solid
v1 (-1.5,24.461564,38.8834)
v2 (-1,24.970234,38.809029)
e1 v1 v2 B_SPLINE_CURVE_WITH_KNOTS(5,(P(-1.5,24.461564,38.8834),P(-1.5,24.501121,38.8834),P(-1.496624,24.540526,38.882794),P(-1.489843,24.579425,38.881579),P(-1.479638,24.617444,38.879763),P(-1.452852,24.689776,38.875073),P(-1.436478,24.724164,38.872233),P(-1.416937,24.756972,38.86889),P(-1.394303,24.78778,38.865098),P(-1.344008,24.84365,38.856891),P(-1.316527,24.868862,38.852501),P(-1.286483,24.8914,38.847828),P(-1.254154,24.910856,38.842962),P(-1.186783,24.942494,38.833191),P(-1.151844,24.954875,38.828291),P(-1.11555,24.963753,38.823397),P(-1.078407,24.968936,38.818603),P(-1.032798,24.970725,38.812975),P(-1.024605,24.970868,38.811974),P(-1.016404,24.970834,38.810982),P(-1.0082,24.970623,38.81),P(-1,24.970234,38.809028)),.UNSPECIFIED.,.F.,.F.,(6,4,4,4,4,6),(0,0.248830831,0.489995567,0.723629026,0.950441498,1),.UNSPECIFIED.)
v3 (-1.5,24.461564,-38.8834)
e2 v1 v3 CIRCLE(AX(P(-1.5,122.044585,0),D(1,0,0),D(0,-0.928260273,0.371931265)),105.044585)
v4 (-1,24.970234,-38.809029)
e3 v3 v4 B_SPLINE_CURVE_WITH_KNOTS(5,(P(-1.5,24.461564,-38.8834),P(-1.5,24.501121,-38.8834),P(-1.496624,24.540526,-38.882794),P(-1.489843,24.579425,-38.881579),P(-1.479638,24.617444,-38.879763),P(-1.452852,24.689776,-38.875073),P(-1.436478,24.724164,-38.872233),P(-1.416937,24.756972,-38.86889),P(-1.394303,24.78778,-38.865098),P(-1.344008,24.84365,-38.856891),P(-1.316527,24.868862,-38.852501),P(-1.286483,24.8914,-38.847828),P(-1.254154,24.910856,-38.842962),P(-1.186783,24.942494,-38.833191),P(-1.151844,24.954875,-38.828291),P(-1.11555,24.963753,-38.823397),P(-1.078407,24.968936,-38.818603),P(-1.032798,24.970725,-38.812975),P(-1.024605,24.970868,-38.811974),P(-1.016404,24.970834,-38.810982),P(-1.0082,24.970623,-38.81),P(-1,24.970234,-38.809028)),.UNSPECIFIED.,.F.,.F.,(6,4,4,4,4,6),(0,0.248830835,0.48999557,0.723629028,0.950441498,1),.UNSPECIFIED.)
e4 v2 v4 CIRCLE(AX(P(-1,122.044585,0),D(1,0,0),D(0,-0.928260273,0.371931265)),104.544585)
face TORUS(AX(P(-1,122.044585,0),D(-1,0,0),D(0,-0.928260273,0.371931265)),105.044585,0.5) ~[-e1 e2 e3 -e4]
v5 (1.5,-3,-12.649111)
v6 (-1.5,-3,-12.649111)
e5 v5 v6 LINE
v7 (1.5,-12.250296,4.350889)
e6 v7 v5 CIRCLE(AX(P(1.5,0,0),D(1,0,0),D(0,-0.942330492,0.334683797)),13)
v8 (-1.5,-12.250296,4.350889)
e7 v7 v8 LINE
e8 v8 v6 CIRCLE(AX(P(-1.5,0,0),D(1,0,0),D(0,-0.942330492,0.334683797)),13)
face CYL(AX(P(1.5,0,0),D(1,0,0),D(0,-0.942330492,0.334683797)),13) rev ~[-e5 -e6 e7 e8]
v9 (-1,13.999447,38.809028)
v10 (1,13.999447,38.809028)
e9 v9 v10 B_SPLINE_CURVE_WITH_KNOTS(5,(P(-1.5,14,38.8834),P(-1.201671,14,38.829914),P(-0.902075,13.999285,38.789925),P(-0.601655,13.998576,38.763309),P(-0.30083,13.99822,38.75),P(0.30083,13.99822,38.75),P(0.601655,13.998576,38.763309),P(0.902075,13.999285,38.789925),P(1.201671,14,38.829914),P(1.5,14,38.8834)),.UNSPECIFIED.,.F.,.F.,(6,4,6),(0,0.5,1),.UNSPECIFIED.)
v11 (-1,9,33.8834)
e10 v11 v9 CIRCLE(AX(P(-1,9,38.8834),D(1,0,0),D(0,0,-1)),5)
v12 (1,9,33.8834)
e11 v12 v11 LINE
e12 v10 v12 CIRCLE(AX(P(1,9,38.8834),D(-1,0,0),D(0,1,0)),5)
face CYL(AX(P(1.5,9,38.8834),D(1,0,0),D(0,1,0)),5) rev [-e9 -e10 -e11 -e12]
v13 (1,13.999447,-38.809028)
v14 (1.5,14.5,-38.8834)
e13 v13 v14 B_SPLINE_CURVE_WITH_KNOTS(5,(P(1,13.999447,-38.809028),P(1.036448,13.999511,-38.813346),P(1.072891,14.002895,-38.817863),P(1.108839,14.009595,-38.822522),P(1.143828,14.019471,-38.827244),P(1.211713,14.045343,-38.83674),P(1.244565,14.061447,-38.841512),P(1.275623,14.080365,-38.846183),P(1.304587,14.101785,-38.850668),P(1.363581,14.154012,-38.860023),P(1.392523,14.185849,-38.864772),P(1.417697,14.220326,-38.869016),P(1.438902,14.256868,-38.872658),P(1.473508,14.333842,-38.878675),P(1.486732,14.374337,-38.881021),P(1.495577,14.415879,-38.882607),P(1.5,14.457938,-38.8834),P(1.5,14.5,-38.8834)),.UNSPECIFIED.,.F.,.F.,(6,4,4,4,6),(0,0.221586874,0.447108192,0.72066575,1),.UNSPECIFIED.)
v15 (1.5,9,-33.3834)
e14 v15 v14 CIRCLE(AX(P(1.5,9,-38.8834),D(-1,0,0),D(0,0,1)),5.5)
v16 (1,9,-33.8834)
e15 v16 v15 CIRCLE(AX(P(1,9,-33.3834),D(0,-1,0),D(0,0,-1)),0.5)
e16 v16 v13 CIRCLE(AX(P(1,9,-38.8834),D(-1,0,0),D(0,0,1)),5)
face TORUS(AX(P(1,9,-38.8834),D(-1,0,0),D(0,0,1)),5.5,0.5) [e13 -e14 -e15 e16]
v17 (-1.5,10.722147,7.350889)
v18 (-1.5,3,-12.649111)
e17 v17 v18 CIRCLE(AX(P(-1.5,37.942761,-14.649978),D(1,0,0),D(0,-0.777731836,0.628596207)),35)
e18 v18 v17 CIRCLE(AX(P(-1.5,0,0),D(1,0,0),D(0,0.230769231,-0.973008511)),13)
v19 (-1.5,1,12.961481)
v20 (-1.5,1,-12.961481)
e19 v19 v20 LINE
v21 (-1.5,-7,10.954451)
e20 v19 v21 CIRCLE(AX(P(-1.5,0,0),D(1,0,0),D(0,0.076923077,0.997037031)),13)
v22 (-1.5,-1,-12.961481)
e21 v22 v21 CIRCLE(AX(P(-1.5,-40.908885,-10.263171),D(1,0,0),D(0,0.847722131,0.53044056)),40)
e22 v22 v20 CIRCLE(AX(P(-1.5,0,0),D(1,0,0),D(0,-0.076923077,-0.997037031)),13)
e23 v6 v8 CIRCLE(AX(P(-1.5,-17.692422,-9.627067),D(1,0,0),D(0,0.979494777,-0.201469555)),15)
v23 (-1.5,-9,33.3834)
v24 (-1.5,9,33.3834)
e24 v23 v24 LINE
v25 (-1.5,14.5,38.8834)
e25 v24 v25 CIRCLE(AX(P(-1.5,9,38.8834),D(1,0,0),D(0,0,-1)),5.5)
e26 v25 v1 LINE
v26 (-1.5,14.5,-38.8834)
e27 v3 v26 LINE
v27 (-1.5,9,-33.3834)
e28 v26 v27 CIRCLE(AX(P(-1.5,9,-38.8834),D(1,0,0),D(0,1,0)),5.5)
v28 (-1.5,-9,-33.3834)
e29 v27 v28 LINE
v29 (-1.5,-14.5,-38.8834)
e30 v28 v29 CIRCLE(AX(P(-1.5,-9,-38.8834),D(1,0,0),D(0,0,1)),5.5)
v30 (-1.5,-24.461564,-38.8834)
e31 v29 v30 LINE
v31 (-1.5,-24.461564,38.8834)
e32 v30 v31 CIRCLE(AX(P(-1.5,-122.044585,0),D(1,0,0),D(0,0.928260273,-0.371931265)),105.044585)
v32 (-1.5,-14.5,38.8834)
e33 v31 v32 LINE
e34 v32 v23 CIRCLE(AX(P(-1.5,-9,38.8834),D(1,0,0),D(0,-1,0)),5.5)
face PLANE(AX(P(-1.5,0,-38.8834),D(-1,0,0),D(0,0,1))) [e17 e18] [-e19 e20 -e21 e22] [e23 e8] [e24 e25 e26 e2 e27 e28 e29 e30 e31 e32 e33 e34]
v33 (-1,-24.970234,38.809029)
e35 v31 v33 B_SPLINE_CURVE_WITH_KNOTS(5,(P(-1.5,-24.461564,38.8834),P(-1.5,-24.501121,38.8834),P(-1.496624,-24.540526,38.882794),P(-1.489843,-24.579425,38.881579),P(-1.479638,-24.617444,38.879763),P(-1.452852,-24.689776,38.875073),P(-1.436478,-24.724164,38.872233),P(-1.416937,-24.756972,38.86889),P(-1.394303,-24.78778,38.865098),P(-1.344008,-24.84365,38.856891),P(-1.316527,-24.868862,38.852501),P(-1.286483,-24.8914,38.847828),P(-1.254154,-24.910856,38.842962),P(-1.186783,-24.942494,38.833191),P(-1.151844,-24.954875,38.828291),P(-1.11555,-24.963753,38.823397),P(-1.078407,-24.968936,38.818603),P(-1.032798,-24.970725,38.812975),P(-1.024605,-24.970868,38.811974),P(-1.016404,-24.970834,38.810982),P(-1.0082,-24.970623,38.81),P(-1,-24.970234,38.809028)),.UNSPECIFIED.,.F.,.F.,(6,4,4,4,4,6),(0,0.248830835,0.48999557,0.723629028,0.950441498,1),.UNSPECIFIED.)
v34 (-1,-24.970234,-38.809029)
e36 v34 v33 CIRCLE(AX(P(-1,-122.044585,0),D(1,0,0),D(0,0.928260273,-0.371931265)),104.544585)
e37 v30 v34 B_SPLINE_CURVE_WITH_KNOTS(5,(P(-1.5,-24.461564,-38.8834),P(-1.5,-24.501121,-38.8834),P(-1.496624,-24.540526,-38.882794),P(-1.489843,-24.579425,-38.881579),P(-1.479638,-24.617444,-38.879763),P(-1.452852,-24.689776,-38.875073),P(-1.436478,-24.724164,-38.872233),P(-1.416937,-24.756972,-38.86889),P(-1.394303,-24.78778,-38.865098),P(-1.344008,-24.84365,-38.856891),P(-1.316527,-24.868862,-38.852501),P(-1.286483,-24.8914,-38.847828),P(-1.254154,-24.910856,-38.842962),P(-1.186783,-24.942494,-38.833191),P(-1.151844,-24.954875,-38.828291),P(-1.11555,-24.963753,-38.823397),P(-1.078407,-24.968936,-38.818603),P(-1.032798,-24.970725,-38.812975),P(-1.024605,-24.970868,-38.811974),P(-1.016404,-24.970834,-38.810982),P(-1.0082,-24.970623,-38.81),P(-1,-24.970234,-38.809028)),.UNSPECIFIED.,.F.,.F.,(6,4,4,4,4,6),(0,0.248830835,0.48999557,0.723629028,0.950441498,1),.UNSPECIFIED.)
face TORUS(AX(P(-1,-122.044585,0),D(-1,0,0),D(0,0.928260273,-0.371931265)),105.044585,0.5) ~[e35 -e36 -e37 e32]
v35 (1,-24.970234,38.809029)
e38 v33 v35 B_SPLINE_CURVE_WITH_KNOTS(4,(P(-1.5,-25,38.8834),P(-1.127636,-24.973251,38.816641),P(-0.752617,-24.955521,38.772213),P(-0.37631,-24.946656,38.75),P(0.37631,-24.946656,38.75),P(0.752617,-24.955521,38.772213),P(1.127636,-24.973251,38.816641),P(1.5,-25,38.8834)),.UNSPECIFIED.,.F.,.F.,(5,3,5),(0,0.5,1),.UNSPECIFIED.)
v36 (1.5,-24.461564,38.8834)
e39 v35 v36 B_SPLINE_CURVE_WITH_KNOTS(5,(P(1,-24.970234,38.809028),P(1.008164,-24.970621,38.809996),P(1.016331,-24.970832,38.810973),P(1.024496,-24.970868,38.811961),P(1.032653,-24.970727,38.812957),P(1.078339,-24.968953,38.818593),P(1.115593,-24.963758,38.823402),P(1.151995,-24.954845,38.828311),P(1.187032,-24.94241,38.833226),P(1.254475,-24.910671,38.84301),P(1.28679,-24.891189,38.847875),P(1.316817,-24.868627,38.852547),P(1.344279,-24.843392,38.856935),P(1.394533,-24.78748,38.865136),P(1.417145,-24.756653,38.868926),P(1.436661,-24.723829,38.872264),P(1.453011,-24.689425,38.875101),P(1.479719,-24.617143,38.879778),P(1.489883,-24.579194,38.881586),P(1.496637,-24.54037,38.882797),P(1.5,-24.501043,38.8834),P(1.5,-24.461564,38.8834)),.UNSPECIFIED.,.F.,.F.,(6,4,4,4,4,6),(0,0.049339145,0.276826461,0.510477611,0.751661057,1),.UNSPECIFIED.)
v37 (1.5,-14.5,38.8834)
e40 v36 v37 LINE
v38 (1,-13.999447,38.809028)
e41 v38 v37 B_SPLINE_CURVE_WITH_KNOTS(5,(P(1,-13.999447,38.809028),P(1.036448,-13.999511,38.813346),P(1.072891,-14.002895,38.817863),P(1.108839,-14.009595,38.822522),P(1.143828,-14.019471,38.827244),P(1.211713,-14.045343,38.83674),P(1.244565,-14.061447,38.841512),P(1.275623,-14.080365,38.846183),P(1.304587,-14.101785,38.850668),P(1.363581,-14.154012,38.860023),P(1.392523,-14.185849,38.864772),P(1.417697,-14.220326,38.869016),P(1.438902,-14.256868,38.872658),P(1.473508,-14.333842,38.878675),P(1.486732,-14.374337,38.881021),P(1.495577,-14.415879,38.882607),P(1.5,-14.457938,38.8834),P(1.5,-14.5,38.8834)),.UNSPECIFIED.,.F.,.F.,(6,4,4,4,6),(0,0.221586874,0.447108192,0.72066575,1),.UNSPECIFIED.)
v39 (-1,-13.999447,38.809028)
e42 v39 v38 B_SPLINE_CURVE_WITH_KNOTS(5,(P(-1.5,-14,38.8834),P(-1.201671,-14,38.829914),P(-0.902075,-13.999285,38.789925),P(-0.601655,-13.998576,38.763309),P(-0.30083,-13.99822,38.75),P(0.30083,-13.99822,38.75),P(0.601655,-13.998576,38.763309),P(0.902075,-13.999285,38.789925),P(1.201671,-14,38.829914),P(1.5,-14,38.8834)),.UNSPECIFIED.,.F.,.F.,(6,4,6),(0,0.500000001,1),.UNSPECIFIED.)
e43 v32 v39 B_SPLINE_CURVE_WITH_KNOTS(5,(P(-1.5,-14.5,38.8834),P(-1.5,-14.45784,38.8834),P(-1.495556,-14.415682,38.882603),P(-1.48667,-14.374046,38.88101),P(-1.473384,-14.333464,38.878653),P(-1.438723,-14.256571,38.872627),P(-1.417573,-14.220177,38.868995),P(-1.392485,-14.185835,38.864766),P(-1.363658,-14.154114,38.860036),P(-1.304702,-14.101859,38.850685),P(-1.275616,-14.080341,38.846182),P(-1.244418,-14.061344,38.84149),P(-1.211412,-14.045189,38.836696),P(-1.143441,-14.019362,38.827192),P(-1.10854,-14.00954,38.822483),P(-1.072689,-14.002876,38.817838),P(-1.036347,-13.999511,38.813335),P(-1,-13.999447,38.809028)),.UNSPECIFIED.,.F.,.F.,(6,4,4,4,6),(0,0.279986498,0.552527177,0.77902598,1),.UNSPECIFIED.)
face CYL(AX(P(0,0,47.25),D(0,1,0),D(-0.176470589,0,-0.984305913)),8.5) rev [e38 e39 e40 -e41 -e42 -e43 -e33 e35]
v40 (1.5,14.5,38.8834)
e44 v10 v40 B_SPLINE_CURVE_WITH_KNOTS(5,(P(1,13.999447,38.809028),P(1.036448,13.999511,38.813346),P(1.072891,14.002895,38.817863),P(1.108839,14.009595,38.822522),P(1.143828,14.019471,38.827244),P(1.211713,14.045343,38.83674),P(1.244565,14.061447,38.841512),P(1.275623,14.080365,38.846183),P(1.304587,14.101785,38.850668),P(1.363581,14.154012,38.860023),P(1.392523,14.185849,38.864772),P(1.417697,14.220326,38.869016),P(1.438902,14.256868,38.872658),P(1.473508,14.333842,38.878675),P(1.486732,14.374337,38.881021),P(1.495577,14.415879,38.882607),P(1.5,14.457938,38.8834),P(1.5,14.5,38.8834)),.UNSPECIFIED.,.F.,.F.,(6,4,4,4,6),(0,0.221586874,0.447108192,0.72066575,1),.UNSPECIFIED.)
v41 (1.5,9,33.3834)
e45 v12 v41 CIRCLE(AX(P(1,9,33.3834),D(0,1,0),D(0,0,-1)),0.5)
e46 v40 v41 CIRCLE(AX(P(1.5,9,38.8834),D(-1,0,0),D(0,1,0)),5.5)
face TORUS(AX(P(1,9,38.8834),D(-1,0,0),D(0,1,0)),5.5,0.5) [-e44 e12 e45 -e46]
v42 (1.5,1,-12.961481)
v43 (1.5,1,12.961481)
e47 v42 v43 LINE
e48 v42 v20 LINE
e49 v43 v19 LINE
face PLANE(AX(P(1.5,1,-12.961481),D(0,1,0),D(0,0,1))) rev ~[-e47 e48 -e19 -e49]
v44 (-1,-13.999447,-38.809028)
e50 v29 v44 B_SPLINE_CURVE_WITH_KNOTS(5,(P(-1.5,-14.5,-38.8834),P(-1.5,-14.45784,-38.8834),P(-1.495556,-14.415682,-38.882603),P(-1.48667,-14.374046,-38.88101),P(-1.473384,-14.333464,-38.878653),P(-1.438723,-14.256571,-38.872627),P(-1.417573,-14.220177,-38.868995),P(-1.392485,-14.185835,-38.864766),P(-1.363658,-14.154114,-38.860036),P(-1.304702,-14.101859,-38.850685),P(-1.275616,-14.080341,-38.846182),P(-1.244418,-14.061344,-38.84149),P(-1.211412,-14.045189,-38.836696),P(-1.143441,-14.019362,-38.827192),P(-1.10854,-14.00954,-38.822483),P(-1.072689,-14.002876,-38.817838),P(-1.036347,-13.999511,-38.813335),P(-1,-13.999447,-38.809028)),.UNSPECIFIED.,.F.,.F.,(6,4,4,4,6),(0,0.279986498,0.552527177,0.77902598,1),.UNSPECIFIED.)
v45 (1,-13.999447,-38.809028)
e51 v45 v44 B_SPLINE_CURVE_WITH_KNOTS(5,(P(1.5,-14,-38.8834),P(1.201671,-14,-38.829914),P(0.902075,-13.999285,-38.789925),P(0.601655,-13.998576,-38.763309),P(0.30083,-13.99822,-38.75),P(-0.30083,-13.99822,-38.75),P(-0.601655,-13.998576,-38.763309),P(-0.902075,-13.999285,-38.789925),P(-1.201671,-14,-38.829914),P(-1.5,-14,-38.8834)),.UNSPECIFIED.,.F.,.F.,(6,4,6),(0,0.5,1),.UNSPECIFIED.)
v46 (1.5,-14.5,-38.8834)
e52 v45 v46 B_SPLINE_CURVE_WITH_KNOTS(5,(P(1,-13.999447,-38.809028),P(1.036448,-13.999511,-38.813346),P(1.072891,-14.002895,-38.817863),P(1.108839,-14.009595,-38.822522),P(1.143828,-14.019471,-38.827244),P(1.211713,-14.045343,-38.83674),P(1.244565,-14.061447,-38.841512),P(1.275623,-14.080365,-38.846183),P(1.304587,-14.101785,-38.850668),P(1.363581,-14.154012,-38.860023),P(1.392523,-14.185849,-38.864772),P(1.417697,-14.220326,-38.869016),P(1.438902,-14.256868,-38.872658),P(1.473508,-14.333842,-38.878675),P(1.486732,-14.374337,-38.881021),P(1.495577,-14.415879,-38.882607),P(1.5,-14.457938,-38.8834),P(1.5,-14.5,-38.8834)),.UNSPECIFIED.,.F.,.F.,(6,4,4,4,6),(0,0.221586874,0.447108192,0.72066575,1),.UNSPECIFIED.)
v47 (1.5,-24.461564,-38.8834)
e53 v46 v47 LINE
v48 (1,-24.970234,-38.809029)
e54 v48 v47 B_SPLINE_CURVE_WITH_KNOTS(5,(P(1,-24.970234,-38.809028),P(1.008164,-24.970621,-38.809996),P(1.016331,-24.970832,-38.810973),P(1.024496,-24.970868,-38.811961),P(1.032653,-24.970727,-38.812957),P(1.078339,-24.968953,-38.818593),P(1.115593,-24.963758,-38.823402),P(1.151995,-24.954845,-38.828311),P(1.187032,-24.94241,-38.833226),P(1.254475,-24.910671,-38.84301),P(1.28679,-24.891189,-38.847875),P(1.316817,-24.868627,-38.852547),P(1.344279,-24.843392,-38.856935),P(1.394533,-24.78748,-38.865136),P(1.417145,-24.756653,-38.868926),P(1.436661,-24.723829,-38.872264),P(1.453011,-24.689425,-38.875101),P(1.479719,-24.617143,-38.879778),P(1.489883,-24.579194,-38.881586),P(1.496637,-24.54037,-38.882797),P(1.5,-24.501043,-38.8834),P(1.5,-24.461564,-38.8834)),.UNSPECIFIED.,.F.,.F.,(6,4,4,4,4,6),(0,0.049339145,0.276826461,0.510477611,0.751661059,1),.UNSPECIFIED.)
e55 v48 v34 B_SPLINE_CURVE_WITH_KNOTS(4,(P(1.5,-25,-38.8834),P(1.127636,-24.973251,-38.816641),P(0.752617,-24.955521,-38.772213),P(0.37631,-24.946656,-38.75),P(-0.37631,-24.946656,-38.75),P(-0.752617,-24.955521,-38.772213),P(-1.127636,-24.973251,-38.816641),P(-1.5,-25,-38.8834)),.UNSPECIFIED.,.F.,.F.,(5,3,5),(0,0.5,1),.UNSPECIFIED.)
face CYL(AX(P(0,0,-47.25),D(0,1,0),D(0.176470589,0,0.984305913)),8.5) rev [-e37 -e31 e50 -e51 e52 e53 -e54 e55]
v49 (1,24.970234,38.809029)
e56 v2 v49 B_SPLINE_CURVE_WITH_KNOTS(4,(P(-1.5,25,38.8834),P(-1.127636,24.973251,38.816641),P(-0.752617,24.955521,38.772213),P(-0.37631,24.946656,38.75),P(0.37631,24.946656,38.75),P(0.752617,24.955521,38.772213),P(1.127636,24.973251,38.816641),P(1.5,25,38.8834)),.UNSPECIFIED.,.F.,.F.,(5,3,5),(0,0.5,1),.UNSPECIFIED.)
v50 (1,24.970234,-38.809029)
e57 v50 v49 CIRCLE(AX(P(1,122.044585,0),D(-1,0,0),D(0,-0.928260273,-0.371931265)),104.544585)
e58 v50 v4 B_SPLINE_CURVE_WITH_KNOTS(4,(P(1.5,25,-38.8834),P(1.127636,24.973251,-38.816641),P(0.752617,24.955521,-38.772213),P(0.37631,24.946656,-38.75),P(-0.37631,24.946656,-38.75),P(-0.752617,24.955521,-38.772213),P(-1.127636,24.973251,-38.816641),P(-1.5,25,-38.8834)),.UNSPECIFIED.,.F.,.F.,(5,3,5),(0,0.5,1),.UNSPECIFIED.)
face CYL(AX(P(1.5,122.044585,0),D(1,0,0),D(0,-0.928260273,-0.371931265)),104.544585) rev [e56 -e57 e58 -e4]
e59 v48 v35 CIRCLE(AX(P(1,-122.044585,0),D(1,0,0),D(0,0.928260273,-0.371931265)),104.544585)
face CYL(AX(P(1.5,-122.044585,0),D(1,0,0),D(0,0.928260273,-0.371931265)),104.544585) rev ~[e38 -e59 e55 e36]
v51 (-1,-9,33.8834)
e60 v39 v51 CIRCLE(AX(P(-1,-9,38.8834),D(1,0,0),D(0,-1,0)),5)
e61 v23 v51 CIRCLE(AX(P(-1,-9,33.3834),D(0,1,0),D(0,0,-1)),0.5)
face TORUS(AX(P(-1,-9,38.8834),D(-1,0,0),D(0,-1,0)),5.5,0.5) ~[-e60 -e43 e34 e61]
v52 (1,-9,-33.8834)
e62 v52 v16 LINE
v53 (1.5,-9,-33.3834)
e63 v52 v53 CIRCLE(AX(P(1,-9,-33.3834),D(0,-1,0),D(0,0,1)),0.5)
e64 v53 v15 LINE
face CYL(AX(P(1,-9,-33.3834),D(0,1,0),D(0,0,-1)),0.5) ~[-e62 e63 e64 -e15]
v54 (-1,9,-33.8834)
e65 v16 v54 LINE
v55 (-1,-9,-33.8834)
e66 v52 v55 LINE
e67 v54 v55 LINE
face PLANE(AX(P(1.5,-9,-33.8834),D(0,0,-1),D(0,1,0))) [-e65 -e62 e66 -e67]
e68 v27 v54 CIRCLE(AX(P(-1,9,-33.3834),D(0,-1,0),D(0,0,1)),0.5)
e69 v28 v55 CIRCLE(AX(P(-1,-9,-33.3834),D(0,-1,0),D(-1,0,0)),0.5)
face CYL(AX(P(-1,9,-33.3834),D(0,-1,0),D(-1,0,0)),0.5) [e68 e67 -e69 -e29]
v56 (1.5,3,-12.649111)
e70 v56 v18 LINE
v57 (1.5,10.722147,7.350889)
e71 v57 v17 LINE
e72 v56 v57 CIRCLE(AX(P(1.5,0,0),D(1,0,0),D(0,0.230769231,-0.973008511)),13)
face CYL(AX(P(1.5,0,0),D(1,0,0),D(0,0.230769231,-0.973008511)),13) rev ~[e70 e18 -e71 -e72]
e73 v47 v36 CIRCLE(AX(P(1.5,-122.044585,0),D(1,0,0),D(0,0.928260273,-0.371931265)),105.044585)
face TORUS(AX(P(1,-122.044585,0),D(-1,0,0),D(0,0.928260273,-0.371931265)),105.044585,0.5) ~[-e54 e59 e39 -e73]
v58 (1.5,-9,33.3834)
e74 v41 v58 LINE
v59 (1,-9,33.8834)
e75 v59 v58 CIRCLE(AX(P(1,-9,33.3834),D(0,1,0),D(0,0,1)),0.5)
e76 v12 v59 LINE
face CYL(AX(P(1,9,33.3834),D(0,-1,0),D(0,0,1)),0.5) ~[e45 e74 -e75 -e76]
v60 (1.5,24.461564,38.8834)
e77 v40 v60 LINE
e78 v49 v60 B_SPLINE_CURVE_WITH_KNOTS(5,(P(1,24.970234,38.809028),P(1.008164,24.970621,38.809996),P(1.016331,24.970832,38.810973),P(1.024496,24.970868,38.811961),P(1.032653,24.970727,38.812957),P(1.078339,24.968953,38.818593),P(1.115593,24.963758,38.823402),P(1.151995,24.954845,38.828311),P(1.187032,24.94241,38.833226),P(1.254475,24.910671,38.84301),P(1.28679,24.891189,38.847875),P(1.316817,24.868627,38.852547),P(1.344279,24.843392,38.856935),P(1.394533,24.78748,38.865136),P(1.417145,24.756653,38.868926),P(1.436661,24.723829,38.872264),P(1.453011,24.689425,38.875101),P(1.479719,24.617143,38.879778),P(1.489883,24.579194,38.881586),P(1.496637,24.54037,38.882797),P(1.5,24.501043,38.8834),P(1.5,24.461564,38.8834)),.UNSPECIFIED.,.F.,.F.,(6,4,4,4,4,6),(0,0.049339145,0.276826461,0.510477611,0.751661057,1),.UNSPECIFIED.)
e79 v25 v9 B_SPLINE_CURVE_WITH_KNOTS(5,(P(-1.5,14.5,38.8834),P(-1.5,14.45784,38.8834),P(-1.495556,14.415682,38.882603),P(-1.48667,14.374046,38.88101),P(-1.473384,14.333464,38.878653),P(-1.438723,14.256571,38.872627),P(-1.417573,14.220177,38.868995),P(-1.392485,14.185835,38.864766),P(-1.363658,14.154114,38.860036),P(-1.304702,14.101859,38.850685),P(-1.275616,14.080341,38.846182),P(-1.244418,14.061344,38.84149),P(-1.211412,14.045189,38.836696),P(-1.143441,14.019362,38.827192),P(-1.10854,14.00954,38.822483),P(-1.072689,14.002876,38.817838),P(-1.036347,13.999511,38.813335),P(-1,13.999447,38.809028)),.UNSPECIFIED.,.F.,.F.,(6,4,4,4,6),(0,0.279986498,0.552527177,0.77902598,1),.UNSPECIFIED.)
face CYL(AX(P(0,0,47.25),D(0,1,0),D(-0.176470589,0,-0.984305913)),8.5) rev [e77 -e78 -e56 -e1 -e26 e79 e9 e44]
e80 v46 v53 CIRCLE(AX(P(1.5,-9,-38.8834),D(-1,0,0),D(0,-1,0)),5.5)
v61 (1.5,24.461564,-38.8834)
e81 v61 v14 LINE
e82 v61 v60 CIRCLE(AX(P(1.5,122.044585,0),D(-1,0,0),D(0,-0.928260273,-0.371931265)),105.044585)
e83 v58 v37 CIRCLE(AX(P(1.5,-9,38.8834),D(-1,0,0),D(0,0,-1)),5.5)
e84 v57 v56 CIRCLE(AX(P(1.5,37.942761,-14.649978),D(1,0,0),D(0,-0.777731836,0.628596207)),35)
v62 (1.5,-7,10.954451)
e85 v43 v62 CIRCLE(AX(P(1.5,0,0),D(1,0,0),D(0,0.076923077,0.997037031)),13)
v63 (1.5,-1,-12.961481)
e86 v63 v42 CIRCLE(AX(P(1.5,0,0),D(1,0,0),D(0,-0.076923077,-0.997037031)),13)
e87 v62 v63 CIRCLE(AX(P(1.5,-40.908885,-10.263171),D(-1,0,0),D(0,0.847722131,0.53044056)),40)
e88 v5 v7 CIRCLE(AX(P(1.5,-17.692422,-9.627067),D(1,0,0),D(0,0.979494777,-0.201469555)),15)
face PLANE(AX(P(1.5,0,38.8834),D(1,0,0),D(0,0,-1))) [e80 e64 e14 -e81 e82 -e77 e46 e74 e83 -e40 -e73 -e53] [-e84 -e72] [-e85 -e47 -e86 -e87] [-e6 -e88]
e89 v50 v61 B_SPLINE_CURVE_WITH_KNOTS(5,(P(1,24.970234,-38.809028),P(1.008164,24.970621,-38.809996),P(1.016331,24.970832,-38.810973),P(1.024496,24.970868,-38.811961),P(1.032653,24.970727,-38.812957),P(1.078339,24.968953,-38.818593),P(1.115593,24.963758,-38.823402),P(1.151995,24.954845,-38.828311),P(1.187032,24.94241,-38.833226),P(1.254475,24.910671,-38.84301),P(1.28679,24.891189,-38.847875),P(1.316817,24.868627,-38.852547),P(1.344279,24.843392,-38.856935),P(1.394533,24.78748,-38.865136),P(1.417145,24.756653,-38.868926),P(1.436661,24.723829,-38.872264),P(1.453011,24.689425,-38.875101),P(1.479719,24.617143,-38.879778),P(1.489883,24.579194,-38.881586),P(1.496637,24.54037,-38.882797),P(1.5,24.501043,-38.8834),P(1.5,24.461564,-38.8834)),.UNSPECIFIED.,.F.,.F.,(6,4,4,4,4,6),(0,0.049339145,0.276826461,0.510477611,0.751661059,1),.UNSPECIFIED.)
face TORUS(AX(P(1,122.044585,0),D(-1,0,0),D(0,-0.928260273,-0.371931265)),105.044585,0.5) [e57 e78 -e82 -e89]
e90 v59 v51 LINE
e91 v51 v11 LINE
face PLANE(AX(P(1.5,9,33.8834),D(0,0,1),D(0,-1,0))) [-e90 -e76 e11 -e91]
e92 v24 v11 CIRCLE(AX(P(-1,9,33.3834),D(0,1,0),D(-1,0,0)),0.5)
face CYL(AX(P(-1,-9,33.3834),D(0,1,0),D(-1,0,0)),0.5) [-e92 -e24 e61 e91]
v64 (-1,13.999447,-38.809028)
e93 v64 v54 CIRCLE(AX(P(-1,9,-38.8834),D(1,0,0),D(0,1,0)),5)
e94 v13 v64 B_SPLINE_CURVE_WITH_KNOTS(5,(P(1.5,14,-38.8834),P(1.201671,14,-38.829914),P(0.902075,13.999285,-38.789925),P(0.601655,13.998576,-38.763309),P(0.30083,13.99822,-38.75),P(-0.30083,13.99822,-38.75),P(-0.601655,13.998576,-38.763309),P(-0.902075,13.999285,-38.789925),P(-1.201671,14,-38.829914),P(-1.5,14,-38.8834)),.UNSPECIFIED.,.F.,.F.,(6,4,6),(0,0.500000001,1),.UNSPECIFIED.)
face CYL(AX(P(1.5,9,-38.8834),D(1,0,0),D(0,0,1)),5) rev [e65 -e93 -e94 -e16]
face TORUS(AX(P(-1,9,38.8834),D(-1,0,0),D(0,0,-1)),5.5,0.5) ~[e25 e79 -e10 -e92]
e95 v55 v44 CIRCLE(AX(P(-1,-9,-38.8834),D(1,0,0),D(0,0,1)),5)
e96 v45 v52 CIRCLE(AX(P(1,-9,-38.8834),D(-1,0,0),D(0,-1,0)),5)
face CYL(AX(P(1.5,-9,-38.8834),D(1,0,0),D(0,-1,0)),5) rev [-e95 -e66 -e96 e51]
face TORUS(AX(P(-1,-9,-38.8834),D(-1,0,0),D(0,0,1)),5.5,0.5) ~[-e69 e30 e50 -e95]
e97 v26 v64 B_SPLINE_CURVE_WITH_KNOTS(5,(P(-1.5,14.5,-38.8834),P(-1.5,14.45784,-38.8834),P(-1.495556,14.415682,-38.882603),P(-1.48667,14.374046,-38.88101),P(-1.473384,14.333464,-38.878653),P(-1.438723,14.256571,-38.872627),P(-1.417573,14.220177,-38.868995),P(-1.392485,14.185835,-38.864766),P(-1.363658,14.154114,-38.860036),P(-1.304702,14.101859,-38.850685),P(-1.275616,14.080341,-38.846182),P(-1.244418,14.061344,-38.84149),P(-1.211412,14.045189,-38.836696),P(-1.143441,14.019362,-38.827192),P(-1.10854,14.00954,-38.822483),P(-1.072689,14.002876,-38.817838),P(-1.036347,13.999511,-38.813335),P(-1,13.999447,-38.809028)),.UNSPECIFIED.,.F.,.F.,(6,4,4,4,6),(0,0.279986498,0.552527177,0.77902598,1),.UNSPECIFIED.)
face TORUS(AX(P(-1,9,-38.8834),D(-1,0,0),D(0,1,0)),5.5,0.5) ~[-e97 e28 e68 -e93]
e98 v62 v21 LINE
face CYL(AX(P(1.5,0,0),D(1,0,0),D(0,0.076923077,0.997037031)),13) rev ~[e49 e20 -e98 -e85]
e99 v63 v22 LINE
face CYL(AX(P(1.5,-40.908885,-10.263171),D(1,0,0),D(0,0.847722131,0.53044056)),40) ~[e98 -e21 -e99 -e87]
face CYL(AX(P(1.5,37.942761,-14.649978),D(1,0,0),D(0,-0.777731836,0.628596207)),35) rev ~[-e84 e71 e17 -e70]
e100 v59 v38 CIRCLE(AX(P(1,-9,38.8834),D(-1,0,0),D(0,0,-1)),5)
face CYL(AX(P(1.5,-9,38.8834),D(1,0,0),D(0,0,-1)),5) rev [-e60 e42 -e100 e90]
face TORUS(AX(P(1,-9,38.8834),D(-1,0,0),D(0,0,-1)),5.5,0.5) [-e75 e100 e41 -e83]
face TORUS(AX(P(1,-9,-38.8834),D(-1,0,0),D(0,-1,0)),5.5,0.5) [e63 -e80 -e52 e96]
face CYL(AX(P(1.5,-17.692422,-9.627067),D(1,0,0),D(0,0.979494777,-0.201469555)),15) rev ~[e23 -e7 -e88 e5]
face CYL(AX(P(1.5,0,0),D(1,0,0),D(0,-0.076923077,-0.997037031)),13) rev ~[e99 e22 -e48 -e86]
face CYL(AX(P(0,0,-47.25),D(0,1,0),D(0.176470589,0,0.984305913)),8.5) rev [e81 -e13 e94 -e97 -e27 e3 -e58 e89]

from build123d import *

# Parameters (mm, degrees)
EXTRUSION1_DEPTH        = 25
ENL_V_MAT_EXTRU_1_DEPTH = 4
ENL_V_MAT_EXTRU_2_DEPTH = 4.0000001
CONG_1_R                = 0.5


with BuildPart() as part:
    # Esquisse1 → Extrusion1 (new body, symmetric)
    with BuildSketch(Plane(origin=(0, 0, 0), x_dir=(1, 0, 0), z_dir=(0, 1, 0))):
        with BuildLine():
            Line((-1.5, 38.883399735), (-1.5, -38.883399735))
            ThreePointArc((-1.5, -38.883399735), (0, -38.75), (1.5, -38.883399735))
            Line((1.5, -38.883399735), (1.5, 38.883399735))
            ThreePointArc((1.5, 38.883399735), (0, 38.75), (-1.5, 38.883399735))
        make_face()
    extrude(amount=EXTRUSION1_DEPTH, both=True)

    # Esquisse2 → Enlèv. mat.-Extru.1 (cut, through all)
    with BuildSketch(Plane(origin=(1.5, 0, 0), x_dir=(0, 0, -1), z_dir=(1, 0, 0))):
        with BuildLine():
            Line((-33.883399735, 9), (-33.883399735, -9))
            ThreePointArc((-33.883399735, -9), (-35.347865829, -12.535533906), (-38.883399735, -14))
            Line((-38.883399735, -14), (-38.883399735, 14))
            ThreePointArc((-38.883399735, 14), (-35.347865829, 12.535533906), (-33.883399735, 9))
        make_face()
        with BuildLine():
            Line((38.883399735, 14), (38.883399735, -14))
            ThreePointArc((38.883399735, -14), (35.347865829, -12.535533906), (33.883399735, -9))
            Line((33.883399735, -9), (33.883399735, 9))
            ThreePointArc((33.883399735, 9), (35.347865829, 12.535533906), (38.883399735, 14))
        make_face()
        with BuildLine():
            Line((-38.883399735, 25), (38.883399735, 25))
            ThreePointArc((38.883399735, 25), (0, 17.5), (-38.883399735, 25))
        make_face()
        with BuildLine():
            Line((-38.883399735, -25), (38.883399735, -25))
            ThreePointArc((38.883399735, -25), (0, -17.5), (-38.883399735, -25))
        make_face()
    extrude(amount=-ENL_V_MAT_EXTRU_1_DEPTH, mode=Mode.SUBTRACT)

    # Esquisse3 → Enlèv. mat.-Extru.2 (cut, through all)
    with BuildSketch(Plane(origin=(1.5, 0, 0), x_dir=(0, 0, -1), z_dir=(1, 0, 0))):
        with BuildLine():
            Line((12.961481397, 1), (-12.961481397, 1))
            ThreePointArc((-12.961481397, 1), (-12.609240952, -3.163390997), (-10.95445115, -7))
            ThreePointArc((-10.95445115, -7), (0.529660497, -2.111220787), (12.961481397, -1))
            ThreePointArc((12.961481397, -1), (13, 0), (12.961481397, 1))
        make_face()
        with BuildLine():
            ThreePointArc((-7.350889359, 10.722146503), (2.043285167, 5.292013474), (12.649110641, 3))
            ThreePointArc((12.649110641, 3), (4.682485861, 12.127420425), (-7.350889359, 10.722146503))
        make_face()
        with BuildLine():
            ThreePointArc((12.649110641, -3), (2.457687621, -4.516686577), (-4.350889359, -12.250296396))
            ThreePointArc((-4.350889359, -12.250296396), (6.213462397, -11.418970402), (12.649110641, -3))
        make_face()
    extrude(amount=-ENL_V_MAT_EXTRU_2_DEPTH, mode=Mode.SUBTRACT)

    # Congé1
    cong_1_edges = [part.edges().sort_by_distance(p)[0] for p in [
        (-1.5, 17.5, 0),
        (1.5, 17.5, 0),
        (-1.5, -17.5, 0),
        (1.5, -17.5, 0),
        (-1.5, 12.535533906, 35.347865829),
        (-1.5, -12.535533906, 35.347865829),
        (-1.5, 0, 33.883399735),
        (1.5, 12.535533906, 35.347865829),
        (1.5, -12.535533906, 35.347865829),
        (1.5, 0, 33.883399735),
        (-1.5, -12.535533906, -35.347865829),
        (-1.5, 12.535533906, -35.347865829),
        (-1.5, 0, -33.883399735),
        (1.5, -12.535533906, -35.347865829),
        (1.5, 12.535533906, -35.347865829),
        (1.5, 0, -33.883399735),
    ]]
    fillet(cong_1_edges, radius=CONG_1_R)


solid = part.part
